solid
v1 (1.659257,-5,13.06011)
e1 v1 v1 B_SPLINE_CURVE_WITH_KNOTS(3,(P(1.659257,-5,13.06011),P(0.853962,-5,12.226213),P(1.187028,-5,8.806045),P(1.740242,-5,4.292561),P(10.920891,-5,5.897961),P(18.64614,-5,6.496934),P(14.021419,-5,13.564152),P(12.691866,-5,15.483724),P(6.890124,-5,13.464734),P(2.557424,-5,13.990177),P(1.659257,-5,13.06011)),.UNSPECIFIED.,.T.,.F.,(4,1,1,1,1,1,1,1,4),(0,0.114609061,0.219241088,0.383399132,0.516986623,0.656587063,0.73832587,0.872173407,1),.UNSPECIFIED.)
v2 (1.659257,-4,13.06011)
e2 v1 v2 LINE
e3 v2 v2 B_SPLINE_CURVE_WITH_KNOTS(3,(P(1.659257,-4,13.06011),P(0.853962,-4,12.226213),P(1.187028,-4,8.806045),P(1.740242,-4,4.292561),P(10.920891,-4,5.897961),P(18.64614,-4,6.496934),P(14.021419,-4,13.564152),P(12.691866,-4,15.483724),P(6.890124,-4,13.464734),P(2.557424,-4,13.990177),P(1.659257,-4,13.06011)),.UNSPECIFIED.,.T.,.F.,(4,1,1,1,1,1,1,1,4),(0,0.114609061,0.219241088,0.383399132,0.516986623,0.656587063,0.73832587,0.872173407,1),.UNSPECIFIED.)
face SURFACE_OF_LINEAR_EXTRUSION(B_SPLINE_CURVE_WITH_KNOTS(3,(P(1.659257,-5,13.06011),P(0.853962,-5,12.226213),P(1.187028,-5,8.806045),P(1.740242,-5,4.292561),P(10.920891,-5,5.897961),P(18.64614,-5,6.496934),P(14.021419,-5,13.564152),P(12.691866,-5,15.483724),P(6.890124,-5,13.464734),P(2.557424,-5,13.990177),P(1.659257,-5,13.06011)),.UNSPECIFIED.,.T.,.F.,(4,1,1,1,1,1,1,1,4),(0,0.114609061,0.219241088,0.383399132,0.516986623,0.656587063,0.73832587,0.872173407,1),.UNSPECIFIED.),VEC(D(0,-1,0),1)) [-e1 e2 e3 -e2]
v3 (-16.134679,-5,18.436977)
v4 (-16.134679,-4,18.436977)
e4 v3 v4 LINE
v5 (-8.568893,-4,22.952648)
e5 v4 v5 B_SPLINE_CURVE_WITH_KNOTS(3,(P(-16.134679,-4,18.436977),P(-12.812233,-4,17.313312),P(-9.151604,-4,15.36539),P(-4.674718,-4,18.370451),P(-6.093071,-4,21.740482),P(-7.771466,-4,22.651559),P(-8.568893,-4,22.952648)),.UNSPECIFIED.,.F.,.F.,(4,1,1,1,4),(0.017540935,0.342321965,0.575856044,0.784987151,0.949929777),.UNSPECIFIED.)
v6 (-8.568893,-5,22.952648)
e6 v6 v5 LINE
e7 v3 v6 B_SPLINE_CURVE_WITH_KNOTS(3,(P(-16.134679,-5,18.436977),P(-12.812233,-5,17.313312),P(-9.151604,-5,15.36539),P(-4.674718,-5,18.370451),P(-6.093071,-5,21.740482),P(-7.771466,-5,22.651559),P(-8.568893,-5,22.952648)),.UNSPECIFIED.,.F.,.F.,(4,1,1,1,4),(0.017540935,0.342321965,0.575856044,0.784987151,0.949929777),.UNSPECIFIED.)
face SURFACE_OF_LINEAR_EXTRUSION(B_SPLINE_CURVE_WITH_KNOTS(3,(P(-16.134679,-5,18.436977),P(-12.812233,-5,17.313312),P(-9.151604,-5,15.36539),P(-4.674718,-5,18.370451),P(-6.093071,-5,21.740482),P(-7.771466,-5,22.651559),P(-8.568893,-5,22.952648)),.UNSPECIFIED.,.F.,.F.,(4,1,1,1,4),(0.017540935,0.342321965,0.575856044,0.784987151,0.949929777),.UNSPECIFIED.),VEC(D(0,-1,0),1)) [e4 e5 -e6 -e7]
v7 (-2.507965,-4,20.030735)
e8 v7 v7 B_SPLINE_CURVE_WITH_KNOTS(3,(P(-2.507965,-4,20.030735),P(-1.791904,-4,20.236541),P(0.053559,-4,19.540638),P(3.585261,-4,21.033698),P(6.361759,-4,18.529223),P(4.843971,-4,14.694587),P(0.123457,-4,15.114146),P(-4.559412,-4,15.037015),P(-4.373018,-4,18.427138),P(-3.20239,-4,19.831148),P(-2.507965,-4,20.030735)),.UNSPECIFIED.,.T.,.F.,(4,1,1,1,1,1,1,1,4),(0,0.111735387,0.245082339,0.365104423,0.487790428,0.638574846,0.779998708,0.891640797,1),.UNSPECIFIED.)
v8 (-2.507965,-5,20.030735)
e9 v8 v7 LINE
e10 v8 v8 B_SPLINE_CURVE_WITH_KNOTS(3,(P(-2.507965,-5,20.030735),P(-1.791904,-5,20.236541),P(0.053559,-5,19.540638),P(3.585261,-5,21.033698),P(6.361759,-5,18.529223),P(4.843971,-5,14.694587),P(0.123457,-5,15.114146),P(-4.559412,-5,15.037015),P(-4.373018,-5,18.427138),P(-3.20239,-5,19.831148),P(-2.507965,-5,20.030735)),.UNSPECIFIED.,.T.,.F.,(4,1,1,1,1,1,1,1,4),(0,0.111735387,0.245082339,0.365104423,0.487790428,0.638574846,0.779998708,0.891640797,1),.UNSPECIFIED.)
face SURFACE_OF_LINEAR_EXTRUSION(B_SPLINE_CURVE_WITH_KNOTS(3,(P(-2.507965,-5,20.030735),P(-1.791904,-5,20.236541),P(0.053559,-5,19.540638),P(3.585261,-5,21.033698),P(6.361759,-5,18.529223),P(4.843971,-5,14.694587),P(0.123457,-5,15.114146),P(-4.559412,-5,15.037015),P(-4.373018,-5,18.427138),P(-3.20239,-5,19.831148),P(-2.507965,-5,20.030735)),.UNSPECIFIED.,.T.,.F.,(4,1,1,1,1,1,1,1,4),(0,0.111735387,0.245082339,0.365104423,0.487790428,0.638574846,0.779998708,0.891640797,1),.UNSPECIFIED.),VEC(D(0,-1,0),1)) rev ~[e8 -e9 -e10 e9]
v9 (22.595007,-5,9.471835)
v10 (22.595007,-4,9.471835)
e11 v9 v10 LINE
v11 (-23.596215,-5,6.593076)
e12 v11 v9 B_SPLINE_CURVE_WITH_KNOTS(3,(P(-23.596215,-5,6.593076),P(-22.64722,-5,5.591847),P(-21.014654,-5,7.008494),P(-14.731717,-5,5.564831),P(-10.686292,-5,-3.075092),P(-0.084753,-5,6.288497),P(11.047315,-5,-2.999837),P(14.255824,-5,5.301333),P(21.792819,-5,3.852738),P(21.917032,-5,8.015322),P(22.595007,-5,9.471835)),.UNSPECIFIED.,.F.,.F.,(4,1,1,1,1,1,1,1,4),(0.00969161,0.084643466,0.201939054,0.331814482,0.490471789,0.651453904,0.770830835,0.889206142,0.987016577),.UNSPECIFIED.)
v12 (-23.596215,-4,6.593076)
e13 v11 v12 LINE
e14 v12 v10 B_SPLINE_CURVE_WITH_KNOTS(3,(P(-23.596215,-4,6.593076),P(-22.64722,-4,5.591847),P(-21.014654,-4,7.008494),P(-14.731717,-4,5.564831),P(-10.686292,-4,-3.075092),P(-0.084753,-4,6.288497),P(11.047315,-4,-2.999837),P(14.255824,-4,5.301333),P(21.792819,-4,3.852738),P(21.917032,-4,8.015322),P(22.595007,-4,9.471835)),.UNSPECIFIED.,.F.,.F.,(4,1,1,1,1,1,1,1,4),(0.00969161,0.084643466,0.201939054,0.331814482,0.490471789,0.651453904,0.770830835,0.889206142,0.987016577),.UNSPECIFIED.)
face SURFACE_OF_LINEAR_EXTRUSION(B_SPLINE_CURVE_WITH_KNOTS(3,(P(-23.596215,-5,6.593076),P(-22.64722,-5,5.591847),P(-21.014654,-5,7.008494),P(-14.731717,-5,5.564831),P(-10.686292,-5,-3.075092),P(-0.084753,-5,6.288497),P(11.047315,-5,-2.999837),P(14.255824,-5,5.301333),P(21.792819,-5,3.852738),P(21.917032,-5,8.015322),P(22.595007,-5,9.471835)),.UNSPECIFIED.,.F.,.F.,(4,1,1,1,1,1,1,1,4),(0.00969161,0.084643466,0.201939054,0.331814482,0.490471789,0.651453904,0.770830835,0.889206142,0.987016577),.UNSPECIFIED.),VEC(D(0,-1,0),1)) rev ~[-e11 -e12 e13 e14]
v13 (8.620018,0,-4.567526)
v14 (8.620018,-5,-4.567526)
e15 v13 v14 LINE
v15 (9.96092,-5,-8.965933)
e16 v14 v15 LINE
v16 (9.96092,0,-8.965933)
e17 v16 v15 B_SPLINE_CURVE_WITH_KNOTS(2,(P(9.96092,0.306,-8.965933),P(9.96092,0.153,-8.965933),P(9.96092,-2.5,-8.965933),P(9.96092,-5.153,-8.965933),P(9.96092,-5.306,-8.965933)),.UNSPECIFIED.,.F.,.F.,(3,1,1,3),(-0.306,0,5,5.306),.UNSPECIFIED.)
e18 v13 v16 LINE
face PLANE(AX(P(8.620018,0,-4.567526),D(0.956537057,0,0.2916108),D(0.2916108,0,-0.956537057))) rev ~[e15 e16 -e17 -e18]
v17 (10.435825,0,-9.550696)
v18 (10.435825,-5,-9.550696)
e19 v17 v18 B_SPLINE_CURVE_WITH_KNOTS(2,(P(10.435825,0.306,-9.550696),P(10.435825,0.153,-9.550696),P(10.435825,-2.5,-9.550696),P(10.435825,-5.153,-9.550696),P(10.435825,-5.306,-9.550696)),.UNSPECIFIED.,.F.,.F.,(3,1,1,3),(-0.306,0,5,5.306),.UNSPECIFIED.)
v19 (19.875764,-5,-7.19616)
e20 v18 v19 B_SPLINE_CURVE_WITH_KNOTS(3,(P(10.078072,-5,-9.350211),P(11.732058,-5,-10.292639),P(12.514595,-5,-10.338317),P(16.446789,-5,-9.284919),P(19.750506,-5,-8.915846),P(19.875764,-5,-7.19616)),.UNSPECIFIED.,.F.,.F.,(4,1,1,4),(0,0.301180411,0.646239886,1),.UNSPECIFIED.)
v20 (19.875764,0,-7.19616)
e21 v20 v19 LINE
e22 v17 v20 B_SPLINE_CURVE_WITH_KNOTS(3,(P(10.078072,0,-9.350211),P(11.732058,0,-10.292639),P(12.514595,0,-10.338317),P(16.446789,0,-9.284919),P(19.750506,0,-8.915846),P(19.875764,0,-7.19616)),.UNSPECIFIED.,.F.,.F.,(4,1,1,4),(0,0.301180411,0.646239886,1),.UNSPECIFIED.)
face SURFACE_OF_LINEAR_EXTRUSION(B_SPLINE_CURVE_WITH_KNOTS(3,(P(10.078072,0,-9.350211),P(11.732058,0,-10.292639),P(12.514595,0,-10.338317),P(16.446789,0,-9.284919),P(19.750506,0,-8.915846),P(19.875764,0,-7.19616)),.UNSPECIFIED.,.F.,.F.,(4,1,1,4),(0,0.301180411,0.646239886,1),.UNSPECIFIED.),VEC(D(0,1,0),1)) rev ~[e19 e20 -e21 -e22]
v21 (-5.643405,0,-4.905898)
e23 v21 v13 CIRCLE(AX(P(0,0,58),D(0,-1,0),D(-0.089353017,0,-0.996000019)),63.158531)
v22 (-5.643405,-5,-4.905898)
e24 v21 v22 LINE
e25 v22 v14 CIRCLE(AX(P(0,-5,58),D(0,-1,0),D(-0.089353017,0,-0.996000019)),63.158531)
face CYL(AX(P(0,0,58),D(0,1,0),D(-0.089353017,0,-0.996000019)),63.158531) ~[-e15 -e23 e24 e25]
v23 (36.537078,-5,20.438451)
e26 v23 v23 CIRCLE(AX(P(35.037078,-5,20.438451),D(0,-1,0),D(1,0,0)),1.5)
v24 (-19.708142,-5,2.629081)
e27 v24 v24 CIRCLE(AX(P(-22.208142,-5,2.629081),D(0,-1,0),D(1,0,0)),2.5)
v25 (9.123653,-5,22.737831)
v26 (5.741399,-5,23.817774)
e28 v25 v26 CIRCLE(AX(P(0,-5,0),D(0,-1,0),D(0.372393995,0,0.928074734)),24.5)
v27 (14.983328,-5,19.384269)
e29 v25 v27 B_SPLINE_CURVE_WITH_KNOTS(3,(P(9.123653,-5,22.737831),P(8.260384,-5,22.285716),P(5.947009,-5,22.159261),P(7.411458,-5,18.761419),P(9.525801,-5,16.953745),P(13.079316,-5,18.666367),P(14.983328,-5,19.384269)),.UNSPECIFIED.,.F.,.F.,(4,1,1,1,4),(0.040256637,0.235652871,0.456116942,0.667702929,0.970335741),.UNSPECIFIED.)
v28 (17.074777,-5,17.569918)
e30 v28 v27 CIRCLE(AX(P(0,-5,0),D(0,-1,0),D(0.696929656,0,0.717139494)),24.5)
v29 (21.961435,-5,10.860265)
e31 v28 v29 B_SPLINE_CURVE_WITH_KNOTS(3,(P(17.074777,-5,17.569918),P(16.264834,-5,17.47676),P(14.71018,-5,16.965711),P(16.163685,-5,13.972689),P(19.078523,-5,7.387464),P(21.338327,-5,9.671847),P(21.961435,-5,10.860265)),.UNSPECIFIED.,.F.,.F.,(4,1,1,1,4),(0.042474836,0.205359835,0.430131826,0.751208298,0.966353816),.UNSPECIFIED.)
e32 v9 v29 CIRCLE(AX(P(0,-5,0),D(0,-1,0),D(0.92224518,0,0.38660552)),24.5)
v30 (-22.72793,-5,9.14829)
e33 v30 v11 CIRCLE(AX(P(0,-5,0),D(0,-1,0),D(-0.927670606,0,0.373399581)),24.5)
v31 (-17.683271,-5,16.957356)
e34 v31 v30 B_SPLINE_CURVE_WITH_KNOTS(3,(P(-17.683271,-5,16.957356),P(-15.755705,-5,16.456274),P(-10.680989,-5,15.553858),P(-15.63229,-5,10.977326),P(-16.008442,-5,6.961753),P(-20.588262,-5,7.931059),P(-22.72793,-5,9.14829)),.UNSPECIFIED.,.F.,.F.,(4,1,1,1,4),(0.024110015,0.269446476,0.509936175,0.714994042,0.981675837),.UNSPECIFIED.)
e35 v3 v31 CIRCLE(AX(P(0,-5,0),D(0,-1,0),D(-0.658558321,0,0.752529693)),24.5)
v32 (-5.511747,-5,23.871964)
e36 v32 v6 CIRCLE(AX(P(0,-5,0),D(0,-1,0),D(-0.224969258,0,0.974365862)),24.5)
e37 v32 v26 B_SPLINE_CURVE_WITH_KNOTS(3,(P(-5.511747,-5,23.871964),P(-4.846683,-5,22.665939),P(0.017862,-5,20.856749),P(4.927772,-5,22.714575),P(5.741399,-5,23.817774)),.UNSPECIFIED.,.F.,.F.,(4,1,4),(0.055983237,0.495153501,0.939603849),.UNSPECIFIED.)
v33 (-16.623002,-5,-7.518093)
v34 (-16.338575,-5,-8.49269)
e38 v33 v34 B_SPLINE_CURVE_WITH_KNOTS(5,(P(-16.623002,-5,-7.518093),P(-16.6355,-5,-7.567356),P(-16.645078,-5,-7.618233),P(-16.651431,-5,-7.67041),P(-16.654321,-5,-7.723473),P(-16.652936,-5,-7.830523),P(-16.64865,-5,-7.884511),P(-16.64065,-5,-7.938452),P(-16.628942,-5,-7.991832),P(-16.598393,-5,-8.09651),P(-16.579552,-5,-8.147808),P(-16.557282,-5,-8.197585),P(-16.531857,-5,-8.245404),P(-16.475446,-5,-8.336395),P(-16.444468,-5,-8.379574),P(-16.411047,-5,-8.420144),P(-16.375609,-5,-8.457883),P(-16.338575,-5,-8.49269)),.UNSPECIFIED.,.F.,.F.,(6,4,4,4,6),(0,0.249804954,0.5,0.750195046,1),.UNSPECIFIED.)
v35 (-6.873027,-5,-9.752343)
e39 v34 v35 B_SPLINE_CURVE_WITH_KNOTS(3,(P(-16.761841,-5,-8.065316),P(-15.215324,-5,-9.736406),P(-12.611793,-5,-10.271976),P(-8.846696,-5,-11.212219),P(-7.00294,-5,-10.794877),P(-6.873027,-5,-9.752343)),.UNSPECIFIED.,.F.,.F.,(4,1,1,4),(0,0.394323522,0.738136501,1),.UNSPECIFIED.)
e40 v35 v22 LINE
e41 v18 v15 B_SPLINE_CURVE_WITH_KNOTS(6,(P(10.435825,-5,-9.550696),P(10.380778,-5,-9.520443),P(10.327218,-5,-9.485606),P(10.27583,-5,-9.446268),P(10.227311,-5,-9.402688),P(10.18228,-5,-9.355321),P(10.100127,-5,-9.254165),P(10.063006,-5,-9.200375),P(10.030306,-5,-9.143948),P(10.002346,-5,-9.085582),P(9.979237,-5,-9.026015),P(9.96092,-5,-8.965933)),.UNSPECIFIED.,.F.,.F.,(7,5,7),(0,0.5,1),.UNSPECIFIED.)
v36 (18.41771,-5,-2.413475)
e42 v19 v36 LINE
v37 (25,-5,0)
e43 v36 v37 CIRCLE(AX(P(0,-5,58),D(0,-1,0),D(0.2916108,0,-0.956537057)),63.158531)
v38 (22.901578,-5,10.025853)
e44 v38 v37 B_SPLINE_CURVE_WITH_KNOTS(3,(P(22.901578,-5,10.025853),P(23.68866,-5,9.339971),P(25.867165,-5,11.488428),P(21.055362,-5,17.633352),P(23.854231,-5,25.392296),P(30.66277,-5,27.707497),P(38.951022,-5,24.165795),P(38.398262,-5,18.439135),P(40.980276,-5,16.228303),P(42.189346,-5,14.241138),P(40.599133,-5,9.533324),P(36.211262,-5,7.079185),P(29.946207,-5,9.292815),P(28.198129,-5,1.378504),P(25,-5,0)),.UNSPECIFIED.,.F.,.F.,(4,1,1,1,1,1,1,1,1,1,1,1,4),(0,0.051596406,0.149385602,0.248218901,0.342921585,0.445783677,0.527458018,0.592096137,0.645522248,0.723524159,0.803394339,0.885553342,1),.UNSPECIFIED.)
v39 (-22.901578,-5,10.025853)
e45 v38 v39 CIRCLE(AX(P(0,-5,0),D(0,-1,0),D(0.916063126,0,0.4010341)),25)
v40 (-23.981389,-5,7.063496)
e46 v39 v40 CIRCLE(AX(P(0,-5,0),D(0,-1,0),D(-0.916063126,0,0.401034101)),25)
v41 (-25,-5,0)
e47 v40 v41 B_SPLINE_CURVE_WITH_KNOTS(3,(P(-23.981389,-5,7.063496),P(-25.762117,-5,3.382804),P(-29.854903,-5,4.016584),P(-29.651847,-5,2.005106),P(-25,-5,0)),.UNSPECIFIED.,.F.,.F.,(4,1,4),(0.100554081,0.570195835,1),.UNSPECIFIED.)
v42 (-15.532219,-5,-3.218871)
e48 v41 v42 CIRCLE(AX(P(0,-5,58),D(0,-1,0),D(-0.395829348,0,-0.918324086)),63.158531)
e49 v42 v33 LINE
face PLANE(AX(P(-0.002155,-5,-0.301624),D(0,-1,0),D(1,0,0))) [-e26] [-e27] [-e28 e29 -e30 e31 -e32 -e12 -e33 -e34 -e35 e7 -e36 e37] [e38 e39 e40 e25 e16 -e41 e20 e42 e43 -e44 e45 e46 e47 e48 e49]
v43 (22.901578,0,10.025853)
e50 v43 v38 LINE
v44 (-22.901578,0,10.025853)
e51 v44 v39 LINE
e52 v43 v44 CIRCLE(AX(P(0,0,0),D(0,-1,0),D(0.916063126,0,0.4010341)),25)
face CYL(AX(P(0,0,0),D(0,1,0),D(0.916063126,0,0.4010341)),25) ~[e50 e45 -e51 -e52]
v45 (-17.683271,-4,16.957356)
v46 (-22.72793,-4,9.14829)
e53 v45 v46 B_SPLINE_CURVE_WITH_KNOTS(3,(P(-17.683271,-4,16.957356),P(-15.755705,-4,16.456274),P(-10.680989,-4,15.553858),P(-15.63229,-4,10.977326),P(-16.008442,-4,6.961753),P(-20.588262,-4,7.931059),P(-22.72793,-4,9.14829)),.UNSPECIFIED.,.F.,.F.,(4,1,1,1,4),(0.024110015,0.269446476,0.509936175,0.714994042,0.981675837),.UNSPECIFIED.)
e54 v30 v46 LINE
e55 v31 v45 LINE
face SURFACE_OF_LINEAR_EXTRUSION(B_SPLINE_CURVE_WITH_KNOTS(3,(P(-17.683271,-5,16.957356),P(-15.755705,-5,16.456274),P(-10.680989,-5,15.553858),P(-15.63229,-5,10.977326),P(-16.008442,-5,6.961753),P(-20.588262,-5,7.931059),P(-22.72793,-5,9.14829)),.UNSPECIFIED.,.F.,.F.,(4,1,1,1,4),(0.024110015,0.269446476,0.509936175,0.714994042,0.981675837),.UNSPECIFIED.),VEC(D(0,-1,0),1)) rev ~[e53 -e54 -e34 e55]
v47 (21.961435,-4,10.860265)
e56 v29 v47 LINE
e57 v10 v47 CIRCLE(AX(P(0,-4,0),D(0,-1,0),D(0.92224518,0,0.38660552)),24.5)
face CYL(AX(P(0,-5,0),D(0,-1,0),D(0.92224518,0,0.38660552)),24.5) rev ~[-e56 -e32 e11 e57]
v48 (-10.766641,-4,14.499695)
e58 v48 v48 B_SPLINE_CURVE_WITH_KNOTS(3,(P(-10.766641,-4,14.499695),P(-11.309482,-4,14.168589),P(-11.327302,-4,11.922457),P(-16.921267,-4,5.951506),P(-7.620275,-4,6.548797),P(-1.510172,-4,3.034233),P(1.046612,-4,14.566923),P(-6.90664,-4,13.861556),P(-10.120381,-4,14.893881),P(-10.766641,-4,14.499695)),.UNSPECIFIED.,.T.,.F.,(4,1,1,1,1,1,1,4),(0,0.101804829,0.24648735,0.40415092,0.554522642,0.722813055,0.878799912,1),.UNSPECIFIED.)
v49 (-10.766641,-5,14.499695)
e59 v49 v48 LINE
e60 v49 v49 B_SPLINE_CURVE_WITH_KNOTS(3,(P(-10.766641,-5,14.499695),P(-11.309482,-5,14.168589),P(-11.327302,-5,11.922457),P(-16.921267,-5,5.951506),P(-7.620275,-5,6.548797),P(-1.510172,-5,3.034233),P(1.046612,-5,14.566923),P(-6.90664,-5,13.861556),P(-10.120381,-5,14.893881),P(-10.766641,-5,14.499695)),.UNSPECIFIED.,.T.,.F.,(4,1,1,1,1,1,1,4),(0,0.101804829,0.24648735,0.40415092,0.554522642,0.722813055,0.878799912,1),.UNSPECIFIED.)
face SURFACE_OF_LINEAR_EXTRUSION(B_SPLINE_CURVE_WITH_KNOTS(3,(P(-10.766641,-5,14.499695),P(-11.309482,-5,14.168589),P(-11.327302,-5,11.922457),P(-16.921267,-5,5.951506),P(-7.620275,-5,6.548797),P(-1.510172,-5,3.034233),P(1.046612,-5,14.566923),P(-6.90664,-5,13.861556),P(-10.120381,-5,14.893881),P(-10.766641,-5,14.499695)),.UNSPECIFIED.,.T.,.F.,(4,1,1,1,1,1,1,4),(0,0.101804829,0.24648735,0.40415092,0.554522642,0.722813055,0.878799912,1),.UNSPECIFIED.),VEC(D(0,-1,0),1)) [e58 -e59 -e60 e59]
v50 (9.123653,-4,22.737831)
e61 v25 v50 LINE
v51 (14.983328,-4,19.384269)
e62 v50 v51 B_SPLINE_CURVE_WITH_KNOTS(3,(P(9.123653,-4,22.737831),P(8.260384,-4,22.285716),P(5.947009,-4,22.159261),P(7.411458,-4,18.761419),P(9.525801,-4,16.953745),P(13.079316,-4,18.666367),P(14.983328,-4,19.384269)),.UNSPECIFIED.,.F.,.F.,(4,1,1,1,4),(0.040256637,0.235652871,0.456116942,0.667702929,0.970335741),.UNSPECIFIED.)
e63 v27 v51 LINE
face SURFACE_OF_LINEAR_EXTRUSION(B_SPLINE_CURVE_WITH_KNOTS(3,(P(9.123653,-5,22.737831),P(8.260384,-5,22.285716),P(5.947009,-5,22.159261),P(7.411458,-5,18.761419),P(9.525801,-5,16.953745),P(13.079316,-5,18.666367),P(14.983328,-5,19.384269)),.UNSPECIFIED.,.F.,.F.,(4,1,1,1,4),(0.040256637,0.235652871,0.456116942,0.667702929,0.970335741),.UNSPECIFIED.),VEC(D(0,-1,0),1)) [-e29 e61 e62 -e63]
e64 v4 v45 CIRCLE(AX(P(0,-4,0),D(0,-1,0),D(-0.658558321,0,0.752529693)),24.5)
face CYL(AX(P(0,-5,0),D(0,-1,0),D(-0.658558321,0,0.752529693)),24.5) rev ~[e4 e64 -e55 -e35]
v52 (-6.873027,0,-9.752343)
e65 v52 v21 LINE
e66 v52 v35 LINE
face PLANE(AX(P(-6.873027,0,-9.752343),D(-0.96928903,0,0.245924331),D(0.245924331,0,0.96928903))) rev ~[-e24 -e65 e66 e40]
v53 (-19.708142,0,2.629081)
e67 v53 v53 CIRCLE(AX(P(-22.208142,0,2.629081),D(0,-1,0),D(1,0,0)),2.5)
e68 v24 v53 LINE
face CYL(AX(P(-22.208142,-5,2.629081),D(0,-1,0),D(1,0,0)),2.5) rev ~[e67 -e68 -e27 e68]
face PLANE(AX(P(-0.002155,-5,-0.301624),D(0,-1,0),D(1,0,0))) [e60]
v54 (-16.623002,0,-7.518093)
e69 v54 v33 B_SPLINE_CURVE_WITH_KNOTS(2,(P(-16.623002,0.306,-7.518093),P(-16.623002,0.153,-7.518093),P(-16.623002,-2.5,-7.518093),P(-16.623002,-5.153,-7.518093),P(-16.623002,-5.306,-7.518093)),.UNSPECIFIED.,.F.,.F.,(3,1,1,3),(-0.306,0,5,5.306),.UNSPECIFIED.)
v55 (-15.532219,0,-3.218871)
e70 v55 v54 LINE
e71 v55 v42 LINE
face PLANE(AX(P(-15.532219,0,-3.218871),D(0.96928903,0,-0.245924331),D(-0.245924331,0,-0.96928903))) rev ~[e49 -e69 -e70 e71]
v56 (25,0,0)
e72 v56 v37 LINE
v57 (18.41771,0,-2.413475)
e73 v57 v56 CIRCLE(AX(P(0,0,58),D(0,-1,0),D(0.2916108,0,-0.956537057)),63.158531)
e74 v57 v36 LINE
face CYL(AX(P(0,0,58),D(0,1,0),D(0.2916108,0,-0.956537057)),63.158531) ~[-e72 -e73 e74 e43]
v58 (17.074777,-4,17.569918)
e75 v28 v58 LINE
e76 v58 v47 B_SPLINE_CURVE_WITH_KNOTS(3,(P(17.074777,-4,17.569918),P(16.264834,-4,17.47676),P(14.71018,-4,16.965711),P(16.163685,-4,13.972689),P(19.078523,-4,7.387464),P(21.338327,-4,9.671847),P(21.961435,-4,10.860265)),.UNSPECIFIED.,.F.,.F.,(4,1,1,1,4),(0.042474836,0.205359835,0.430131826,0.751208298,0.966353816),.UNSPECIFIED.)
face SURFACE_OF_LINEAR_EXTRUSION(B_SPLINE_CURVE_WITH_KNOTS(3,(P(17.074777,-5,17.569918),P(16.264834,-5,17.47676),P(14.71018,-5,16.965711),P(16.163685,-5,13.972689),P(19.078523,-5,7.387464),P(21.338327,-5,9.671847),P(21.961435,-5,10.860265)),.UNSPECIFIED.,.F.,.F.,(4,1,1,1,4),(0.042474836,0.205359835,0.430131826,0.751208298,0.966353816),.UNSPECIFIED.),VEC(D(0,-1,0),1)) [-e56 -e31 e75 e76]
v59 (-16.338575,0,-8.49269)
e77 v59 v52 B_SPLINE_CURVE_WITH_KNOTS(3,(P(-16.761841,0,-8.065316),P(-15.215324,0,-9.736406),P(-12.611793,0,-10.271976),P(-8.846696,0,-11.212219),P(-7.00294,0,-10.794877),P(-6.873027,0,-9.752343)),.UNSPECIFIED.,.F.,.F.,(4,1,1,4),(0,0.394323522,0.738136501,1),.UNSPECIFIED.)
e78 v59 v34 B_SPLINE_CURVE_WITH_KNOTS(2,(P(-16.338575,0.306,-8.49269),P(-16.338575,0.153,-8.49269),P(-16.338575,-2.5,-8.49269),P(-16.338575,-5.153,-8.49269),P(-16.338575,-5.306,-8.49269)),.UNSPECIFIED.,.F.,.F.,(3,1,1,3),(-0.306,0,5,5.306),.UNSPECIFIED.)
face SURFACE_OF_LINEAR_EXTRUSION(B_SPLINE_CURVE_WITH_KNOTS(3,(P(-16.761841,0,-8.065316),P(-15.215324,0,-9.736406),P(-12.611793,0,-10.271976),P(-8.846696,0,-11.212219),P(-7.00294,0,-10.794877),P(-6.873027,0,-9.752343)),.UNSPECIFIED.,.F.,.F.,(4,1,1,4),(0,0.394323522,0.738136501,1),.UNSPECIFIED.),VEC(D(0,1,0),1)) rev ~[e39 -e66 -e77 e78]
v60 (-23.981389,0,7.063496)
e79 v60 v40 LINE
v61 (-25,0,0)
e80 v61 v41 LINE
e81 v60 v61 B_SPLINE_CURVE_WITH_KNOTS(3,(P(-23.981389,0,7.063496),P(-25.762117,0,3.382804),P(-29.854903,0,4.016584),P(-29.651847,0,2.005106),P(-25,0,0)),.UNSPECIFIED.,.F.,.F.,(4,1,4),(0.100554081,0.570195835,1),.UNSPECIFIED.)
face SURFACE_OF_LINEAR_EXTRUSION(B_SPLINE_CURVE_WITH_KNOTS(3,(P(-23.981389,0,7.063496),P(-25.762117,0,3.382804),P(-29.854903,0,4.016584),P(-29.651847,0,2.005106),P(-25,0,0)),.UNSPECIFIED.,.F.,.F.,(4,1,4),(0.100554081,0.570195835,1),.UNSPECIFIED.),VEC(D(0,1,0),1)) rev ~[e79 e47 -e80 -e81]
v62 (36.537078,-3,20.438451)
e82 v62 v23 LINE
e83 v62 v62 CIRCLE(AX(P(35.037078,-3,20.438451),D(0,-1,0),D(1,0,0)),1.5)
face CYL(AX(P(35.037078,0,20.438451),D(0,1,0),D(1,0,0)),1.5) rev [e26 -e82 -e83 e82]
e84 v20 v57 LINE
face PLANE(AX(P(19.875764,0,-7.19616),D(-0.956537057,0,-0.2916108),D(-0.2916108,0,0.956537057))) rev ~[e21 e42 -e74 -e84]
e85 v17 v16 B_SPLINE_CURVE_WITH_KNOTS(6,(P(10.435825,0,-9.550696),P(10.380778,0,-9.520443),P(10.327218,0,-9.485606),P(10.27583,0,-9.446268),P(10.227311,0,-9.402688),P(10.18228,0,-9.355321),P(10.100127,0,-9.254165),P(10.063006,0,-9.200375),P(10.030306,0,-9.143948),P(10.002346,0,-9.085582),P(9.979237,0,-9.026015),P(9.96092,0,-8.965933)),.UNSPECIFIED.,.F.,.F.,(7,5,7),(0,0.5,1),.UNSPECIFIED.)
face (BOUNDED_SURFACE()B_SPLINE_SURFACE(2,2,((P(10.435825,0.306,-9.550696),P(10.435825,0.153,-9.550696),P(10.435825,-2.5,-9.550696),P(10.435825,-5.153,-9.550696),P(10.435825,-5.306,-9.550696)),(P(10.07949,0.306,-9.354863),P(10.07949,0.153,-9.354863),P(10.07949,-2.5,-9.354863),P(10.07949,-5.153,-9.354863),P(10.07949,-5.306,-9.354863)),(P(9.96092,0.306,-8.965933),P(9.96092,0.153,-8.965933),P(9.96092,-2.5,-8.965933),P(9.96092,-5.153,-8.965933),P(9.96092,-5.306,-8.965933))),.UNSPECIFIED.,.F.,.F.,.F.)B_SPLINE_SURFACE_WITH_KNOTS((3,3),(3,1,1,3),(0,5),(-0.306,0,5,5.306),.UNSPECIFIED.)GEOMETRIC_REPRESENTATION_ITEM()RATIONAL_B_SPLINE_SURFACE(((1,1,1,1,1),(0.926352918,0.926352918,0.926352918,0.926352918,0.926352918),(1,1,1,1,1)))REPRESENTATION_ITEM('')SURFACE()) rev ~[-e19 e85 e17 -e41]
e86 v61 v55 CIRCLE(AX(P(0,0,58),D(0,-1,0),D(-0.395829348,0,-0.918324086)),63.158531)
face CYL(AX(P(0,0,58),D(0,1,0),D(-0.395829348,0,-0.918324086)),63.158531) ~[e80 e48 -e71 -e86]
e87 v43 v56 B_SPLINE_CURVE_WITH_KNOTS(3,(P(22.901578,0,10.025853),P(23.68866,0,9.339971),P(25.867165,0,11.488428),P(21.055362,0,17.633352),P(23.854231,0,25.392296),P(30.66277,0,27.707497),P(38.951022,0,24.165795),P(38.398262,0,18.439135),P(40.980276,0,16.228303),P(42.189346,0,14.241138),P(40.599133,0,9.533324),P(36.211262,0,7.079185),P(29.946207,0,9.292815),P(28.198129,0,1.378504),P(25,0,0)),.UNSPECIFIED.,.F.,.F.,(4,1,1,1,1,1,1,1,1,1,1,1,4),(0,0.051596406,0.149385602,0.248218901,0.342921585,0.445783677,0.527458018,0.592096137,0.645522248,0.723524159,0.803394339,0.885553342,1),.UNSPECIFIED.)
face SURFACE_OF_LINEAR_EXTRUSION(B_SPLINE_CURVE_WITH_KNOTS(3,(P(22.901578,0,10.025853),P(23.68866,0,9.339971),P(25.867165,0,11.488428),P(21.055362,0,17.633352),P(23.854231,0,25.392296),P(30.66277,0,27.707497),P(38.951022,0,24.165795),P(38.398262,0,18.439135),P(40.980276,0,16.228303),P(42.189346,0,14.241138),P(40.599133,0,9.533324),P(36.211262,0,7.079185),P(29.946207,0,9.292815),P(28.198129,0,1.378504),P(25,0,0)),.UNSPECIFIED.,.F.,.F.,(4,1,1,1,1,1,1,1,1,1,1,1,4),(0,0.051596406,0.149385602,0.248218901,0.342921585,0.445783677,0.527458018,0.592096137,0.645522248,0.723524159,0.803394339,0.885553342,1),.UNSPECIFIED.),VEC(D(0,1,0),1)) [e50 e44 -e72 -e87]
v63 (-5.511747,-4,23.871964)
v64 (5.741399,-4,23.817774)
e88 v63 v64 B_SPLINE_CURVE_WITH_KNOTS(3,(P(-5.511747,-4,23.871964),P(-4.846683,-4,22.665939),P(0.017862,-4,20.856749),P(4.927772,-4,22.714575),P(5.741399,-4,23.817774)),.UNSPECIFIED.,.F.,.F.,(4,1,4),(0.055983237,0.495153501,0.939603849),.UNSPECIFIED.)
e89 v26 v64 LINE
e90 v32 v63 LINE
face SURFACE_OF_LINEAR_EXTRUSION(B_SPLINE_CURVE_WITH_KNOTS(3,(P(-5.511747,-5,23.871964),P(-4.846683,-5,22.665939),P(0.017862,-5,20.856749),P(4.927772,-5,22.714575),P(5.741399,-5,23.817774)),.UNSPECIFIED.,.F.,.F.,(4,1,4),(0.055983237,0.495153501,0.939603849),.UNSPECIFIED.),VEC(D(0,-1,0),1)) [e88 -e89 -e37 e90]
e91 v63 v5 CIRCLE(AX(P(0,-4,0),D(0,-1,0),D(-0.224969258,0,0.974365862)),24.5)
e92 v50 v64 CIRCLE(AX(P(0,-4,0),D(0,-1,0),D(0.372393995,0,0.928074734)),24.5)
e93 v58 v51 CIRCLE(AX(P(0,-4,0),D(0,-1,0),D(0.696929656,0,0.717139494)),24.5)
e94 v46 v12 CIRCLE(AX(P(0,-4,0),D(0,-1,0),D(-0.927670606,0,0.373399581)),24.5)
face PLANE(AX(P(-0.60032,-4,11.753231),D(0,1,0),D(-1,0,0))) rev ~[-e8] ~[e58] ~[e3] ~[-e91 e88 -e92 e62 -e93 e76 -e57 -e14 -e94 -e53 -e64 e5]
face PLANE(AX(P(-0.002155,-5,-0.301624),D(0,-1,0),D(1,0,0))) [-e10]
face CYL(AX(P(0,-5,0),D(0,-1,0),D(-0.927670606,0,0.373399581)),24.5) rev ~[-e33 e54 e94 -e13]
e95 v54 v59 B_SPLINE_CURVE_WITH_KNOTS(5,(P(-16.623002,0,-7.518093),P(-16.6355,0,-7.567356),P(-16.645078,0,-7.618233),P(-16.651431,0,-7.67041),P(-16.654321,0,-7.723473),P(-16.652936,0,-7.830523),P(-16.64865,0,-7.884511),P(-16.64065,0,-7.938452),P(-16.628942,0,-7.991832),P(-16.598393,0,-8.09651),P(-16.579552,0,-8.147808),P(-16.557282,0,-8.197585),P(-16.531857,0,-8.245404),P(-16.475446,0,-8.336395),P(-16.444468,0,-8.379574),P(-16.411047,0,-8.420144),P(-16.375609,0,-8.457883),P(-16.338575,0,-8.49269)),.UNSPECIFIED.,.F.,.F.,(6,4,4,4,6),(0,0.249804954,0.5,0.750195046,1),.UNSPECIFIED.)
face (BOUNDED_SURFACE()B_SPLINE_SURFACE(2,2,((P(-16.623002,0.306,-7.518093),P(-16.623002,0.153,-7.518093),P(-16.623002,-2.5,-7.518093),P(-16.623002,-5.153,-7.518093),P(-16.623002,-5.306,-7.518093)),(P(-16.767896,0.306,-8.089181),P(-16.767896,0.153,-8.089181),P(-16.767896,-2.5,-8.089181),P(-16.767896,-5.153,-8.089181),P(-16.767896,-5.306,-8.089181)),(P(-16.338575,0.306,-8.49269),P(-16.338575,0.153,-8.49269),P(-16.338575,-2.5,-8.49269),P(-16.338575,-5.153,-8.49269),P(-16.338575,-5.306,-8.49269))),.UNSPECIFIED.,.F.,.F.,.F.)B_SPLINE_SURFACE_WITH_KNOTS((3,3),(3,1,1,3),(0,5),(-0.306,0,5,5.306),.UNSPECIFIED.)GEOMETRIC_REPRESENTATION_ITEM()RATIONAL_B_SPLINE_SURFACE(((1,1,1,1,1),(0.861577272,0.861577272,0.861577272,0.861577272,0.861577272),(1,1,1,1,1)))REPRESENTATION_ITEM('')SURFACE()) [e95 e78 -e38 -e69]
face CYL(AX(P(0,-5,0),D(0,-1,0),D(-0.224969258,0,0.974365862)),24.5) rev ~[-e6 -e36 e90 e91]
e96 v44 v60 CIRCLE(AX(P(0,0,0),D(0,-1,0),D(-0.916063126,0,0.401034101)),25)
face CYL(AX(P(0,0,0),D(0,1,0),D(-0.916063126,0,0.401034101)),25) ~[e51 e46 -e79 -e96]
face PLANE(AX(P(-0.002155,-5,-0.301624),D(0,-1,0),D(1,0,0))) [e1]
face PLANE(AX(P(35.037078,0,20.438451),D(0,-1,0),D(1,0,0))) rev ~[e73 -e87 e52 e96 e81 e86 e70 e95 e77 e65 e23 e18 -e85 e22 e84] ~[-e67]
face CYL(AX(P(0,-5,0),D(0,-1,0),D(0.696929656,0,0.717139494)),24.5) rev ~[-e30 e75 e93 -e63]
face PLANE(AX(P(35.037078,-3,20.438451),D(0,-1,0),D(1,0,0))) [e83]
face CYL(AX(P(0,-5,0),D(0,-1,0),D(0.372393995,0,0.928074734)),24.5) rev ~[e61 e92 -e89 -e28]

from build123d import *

# Parameters (mm, degrees)
F0_R     = 1.5
F1_DEPTH = 5
F3_DEPTH = 1
F4_R     = 1
F5_DEPTH = 3
F6_R     = 2.5
F7_DEPTH = 5.0010001


with BuildPart() as f1:
    # F0 (on Front) → F1 (new body)
    with BuildSketch(Plane.XZ):
        with BuildLine():
            ThreePointArc((18.4177096867, -2.4134750689), (21.7423686402, -1.298139987), (25, 0))
            ThreePointArc((25, 0), (24.8526912222, 2.7099333963), (24.412500879, 5.3879310345))
            ThreePointArc((24.412500879, 5.3879310345), (0, 0), (-24.412500879, 5.3879310345))
            ThreePointArc((-24.412500879, 5.3879310345), (-24.8526912222, 2.7099333963), (-25, 0))
            ThreePointArc((-25, 0), (-20.3299160013, -1.7971112628), (-15.5322193849, -3.2188709548))
            ThreePointArc((-15.5322193849, -3.2188709548), (-10.6213598293, -4.2590291875), (-5.6434052563, -4.9058977928))
            ThreePointArc((-5.6434052563, -4.9058977928), (1.4978915861, -5.1407659187), (8.620017638, -4.5675258894))
            ThreePointArc((8.620017638, -4.5675258894), (13.5616982143, -3.6853332774), (18.4177096867, -2.4134750689))
        make_face()
        with BuildLine():
            ThreePointArc((24.412500879, 5.3879310345), (24.8526912222, 2.7099333963), (25, 0))
            add(Edge.make_bspline(
                [(22.9015781423, 10.0258525119), (23.6886603767, 9.3399714746), (25.8671650018, 11.4884284854), (21.0553616327, 17.6333517293), (23.8542310759, 25.3922963139), (30.6627695395, 27.7074972458), (38.9510222692, 24.1657952199), (38.3982620659, 18.4391354476), (40.9802763449, 16.2283032762), (42.1893458407, 14.2411377013), (40.5991332125, 9.5333237588), (36.2112616167, 7.0791854693), (29.9462070754, 9.2928146862), (28.1981291664, 1.378503951), (25, 0)],
                knots=[0, 0, 0, 0, 0.051596406, 0.1493856021, 0.2482189007, 0.3429215849, 0.4457836769, 0.5274580176, 0.5920961365, 0.6455222481, 0.7235241588, 0.8033943388, 0.8855533421, 1, 1, 1, 1], degree=3))
            ThreePointArc((22.9015781423, 10.0258525119), (23.7704248451, 7.7438299751), (24.412500879, 5.3879310345))
        make_face()
        with Locations((35.0370779634, 20.4384513199)):
            Circle(F0_R, mode=Mode.SUBTRACT)
        with BuildLine():
            ThreePointArc((-24.412500879, 5.3879310345), (0, 0), (24.412500879, 5.3879310345))
            ThreePointArc((24.412500879, 5.3879310345), (23.7704248451, 7.7438299751), (22.9015781423, 10.0258525119))
            ThreePointArc((22.9015781423, 10.0258525119), (0, 4.8398541329), (-22.9015781423, 10.0258525119))
            add(Edge.make_bspline(
                [(-22.9015781423, 10.0258525119), (-23.2351862329, 8.8235299034), (-23.6001207602, 7.8515623845), (-23.9813889786, 7.0634964895)],
                knots=[0, 0, 0, 0, 0.1005540807, 0.1005540807, 0.1005540807, 0.1005540807], degree=3))
            ThreePointArc((-23.9813889786, 7.0634964895), (-24.2114440665, 6.2294442942), (-24.412500879, 5.3879310345))
        make_face()
        with BuildLine():
            Line((19.8757636886, -7.1961603531), (18.4177096867, -2.4134750689))
            ThreePointArc((18.4177096867, -2.4134750689), (13.5616982143, -3.6853332774), (8.620017638, -4.5675258894))
            Line((8.620017638, -4.5675258894), (10.0780716398, -9.3502111736))
            add(Edge.make_bspline(
                [(10.0780716398, -9.3502111736), (11.7320583141, -10.2926386233), (12.5145949667, -10.3383170677), (16.4467889746, -9.2849186664), (19.7505056623, -8.9158460621), (19.8757636886, -7.1961603531)],
                knots=[0, 0, 0, 0, 0.3011804108, 0.646239886, 1, 1, 1, 1], degree=3))
        make_face()
        with BuildLine():
            ThreePointArc((-22.9015781423, 10.0258525119), (0, 4.8398541329), (22.9015781423, 10.0258525119))
            ThreePointArc((22.9015781423, 10.0258525119), (0, 25), (-22.9015781423, 10.0258525119))
        make_face()
        with BuildLine():
            ThreePointArc((-25, 0), (-24.8526912222, 2.7099333963), (-24.412500879, 5.3879310345))
            ThreePointArc((-24.412500879, 5.3879310345), (-24.2114440665, 6.2294442942), (-23.9813889786, 7.0634964895))
            add(Edge.make_bspline(
                [(-23.9813889786, 7.0634964895), (-25.7621170549, 3.3828040071), (-29.8549027225, 4.0165840436), (-29.6518467718, 2.0051063672), (-25, 0)],
                knots=[0.1005540807, 0.1005540807, 0.1005540807, 0.1005540807, 0.5701958346, 1, 1, 1, 1], degree=3))
        make_face()
        with BuildLine():
            add(Edge.make_bspline(
                [(-22.9015781423, 10.0258525119), (-23.2351862329, 8.8235299034), (-23.6001207602, 7.8515623845), (-23.9813889786, 7.0634964895)],
                knots=[0, 0, 0, 0, 0.1005540807, 0.1005540807, 0.1005540807, 0.1005540807], degree=3))
            ThreePointArc((-22.9015781423, 10.0258525119), (-23.4882319432, 8.5617147923), (-23.9813889786, 7.0634964895))
        make_face()
        with BuildLine():
            Line((-6.8730269094, -9.7523429426), (-5.6434052563, -4.9058977928))
            ThreePointArc((-5.6434052563, -4.9058977928), (-10.6213598293, -4.2590291875), (-15.5322193849, -3.2188709548))
            Line((-15.5322193849, -3.2188709548), (-16.761841038, -8.0653161046))
            add(Edge.make_bspline(
                [(-16.761841038, -8.0653161046), (-15.2153235605, -9.7364057037), (-12.611793015, -10.2719759302), (-8.8466964127, -11.2122194261), (-7.0029399358, -10.7948770747), (-6.8730269094, -9.7523429426)],
                knots=[0, 0, 0, 0, 0.3943235222, 0.7381365006, 1, 1, 1, 1], degree=3))
        make_face()
    extrude(amount=F1_DEPTH)

    # F2 (on face) → F3 (cut)
    with BuildSketch(Plane.XZ.offset(5)):
        with BuildLine():
            add(Edge.make_bspline(
                [(-5.5117468247, 23.8719636172), (-4.8466830992, 22.6659394847), (0.0178621552, 20.8567488279), (4.9277718709, 22.7145750546), (5.7413987772, 23.8177736172)],
                knots=[0.0559832368, 0.0559832368, 0.0559832368, 0.0559832368, 0.4951535011, 0.9396038489, 0.9396038489, 0.9396038489, 0.9396038489], degree=3))
            ThreePointArc((-5.5117468247, 23.8719636172), (-7.0553094626, 23.4621526802), (-8.568893287, 22.9526483839))
            add(Edge.make_bspline(
                [(-16.1346788612, 18.436977465), (-12.8122330386, 17.3133120841), (-9.1516039682, 15.365389827), (-4.6747183972, 18.370451431), (-6.0930706483, 21.7404816267), (-7.7714657517, 22.6515594283), (-8.568893287, 22.9526483839)],
                knots=[0.0175409345, 0.0175409345, 0.0175409345, 0.0175409345, 0.3423219646, 0.5758560444, 0.7849871505, 0.9499297766, 0.9499297766, 0.9499297766, 0.9499297766], degree=3))
            ThreePointArc((-16.1346788612, 18.436977465), (-16.9251516998, 17.7140972093), (-17.6832713975, 16.9573557102))
            add(Edge.make_bspline(
                [(-17.6832713975, 16.9573557102), (-15.7557053572, 16.4562735722), (-10.6809893941, 15.553858069), (-15.6322902, 10.977326257), (-16.0084422485, 6.9617527115), (-20.5882619443, 7.9310590615), (-22.7279298424, 9.1482897352)],
                knots=[0.0241100155, 0.0241100155, 0.0241100155, 0.0241100155, 0.2694464761, 0.5099361751, 0.7149940416, 0.9816758374, 0.9816758374, 0.9816758374, 0.9816758374], degree=3))
            ThreePointArc((-22.7279298424, 9.1482897352), (-23.1972816273, 7.8826470875), (-23.5962148355, 6.5930755675))
            add(Edge.make_bspline(
                [(-23.5962148355, 6.5930755675), (-22.6472196469, 5.591847443), (-21.0146539742, 7.0084935993), (-14.7317166952, 5.5648306464), (-10.6862923148, -3.0750924008), (-0.0847534422, 6.2884968913), (11.0473148594, -2.9998374579), (14.2558241019, 5.3013325455), (21.7928192601, 3.8527375499), (21.9170323033, 8.0153219112), (22.595006908, 9.4718352406)],
                knots=[0.0096916096, 0.0096916096, 0.0096916096, 0.0096916096, 0.084643466, 0.201939054, 0.3318144821, 0.4904717891, 0.6514539037, 0.7708308346, 0.8892061416, 0.9870165769, 0.9870165769, 0.9870165769, 0.9870165769], degree=3))
            ThreePointArc((22.595006908, 9.4718352406), (22.2890347066, 10.1709848022), (21.9614352126, 10.8602653468))
            add(Edge.make_bspline(
                [(17.0747765796, 17.5699176081), (16.2648341921, 17.4767597495), (14.7101795411, 16.9657113759), (16.1636854543, 13.9726892734), (19.0785227351, 7.3874643163), (21.338327117, 9.6718468371), (21.9614352126, 10.8602653468)],
                knots=[0.0424748364, 0.0424748364, 0.0424748364, 0.0424748364, 0.2053598353, 0.4301318257, 0.7512082976, 0.9663538162, 0.9663538162, 0.9663538162, 0.9663538162], degree=3))
            ThreePointArc((17.0747765796, 17.5699176081), (16.0547029212, 18.5066613443), (14.9833280585, 19.3842688872))
            add(Edge.make_bspline(
                [(9.1236528852, 22.7378309878), (8.2603835742, 22.2857162417), (5.947008953, 22.1592614642), (7.4114581427, 18.7614187058), (9.5258008414, 16.9537445549), (13.0793161878, 18.6663665233), (14.9833280585, 19.3842688872)],
                knots=[0.0402566369, 0.0402566369, 0.0402566369, 0.0402566369, 0.2356528709, 0.4561169416, 0.667702929, 0.9703357411, 0.9703357411, 0.9703357411, 0.9703357411], degree=3))
            ThreePointArc((9.1236528852, 22.7378309878), (7.4521144149, 23.3391514573), (5.7413987772, 23.8177736172))
        make_face()
        with BuildLine():
            add(Edge.make_bspline(
                [(-10.7666407712, 14.4996950403), (-11.3094817197, 14.1685889978), (-11.3273024015, 11.9224570922), (-16.9212666745, 5.9515058238), (-7.6202750112, 6.5487970033), (-1.5101719973, 3.0342330517), (1.0466123467, 14.5669234), (-6.9066401629, 13.8615556481), (-10.1203809527, 14.8938814617), (-10.7666407712, 14.4996950403)],
                knots=[0, 0, 0, 0, 0.1018048293, 0.2464873503, 0.4041509202, 0.5545226417, 0.7228130551, 0.8787999124, 1, 1, 1, 1], degree=3))
        make_face(mode=Mode.SUBTRACT)
        with BuildLine():
            add(Edge.make_bspline(
                [(-2.5079648476, 20.0307350606), (-1.791903519, 20.2365409279), (0.0535594365, 19.5406375668), (3.5852610465, 21.0336975604), (6.3617591538, 18.5292231236), (4.8439712744, 14.6945874961), (0.123456804, 15.114145772), (-4.5594115175, 15.0370149911), (-4.3730177119, 18.4271382796), (-3.2023897442, 19.8311478012), (-2.5079648476, 20.0307350606)],
                knots=[0, 0, 0, 0, 0.1117353871, 0.2450823389, 0.3651044225, 0.487790428, 0.6385748457, 0.7799987076, 0.8916407973, 1, 1, 1, 1], degree=3))
        make_face(mode=Mode.SUBTRACT)
        with BuildLine():
            add(Edge.make_bspline(
                [(1.659257221, 13.0601096898), (0.8539623872, 12.2262133761), (1.1870278815, 8.8060452952), (1.7402418706, 4.2925611737), (10.9208908022, 5.8979605049), (18.6461404809, 6.4969342153), (14.0214192017, 13.564151827), (12.6918663381, 15.4837236511), (6.8901243718, 13.464734016), (2.5574243871, 13.990176862), (1.659257221, 13.0601096898)],
                knots=[0, 0, 0, 0, 0.1146090606, 0.2192410876, 0.3833991319, 0.5169866227, 0.6565870634, 0.7383258703, 0.8721734068, 1, 1, 1, 1], degree=3))
        make_face(mode=Mode.SUBTRACT)
    extrude(amount=-F3_DEPTH, mode=Mode.SUBTRACT)

    # F4
    f4_edges = [f1.edges().sort_by_distance(p)[0] for p in [
        (-16.761841, -2.5, -8.065316),
        (10.078072, -2.5, -9.350211),
    ]]
    fillet(f4_edges, radius=F4_R)

    # F0 (on Front) → F5 (join)
    with BuildSketch(Plane.XZ):
        with Locations((35.0370779634, 20.4384513199)):
            Circle(F0_R)
    extrude(amount=F5_DEPTH)

    # F6 (on face) → F7 (cut, through all)
    with BuildSketch(Plane.XZ.offset(5)):
        with Locations((-22.2081423717, 2.6290807598)):
            Circle(F6_R)
    extrude(amount=-F7_DEPTH, mode=Mode.SUBTRACT)


solid = f1.part
